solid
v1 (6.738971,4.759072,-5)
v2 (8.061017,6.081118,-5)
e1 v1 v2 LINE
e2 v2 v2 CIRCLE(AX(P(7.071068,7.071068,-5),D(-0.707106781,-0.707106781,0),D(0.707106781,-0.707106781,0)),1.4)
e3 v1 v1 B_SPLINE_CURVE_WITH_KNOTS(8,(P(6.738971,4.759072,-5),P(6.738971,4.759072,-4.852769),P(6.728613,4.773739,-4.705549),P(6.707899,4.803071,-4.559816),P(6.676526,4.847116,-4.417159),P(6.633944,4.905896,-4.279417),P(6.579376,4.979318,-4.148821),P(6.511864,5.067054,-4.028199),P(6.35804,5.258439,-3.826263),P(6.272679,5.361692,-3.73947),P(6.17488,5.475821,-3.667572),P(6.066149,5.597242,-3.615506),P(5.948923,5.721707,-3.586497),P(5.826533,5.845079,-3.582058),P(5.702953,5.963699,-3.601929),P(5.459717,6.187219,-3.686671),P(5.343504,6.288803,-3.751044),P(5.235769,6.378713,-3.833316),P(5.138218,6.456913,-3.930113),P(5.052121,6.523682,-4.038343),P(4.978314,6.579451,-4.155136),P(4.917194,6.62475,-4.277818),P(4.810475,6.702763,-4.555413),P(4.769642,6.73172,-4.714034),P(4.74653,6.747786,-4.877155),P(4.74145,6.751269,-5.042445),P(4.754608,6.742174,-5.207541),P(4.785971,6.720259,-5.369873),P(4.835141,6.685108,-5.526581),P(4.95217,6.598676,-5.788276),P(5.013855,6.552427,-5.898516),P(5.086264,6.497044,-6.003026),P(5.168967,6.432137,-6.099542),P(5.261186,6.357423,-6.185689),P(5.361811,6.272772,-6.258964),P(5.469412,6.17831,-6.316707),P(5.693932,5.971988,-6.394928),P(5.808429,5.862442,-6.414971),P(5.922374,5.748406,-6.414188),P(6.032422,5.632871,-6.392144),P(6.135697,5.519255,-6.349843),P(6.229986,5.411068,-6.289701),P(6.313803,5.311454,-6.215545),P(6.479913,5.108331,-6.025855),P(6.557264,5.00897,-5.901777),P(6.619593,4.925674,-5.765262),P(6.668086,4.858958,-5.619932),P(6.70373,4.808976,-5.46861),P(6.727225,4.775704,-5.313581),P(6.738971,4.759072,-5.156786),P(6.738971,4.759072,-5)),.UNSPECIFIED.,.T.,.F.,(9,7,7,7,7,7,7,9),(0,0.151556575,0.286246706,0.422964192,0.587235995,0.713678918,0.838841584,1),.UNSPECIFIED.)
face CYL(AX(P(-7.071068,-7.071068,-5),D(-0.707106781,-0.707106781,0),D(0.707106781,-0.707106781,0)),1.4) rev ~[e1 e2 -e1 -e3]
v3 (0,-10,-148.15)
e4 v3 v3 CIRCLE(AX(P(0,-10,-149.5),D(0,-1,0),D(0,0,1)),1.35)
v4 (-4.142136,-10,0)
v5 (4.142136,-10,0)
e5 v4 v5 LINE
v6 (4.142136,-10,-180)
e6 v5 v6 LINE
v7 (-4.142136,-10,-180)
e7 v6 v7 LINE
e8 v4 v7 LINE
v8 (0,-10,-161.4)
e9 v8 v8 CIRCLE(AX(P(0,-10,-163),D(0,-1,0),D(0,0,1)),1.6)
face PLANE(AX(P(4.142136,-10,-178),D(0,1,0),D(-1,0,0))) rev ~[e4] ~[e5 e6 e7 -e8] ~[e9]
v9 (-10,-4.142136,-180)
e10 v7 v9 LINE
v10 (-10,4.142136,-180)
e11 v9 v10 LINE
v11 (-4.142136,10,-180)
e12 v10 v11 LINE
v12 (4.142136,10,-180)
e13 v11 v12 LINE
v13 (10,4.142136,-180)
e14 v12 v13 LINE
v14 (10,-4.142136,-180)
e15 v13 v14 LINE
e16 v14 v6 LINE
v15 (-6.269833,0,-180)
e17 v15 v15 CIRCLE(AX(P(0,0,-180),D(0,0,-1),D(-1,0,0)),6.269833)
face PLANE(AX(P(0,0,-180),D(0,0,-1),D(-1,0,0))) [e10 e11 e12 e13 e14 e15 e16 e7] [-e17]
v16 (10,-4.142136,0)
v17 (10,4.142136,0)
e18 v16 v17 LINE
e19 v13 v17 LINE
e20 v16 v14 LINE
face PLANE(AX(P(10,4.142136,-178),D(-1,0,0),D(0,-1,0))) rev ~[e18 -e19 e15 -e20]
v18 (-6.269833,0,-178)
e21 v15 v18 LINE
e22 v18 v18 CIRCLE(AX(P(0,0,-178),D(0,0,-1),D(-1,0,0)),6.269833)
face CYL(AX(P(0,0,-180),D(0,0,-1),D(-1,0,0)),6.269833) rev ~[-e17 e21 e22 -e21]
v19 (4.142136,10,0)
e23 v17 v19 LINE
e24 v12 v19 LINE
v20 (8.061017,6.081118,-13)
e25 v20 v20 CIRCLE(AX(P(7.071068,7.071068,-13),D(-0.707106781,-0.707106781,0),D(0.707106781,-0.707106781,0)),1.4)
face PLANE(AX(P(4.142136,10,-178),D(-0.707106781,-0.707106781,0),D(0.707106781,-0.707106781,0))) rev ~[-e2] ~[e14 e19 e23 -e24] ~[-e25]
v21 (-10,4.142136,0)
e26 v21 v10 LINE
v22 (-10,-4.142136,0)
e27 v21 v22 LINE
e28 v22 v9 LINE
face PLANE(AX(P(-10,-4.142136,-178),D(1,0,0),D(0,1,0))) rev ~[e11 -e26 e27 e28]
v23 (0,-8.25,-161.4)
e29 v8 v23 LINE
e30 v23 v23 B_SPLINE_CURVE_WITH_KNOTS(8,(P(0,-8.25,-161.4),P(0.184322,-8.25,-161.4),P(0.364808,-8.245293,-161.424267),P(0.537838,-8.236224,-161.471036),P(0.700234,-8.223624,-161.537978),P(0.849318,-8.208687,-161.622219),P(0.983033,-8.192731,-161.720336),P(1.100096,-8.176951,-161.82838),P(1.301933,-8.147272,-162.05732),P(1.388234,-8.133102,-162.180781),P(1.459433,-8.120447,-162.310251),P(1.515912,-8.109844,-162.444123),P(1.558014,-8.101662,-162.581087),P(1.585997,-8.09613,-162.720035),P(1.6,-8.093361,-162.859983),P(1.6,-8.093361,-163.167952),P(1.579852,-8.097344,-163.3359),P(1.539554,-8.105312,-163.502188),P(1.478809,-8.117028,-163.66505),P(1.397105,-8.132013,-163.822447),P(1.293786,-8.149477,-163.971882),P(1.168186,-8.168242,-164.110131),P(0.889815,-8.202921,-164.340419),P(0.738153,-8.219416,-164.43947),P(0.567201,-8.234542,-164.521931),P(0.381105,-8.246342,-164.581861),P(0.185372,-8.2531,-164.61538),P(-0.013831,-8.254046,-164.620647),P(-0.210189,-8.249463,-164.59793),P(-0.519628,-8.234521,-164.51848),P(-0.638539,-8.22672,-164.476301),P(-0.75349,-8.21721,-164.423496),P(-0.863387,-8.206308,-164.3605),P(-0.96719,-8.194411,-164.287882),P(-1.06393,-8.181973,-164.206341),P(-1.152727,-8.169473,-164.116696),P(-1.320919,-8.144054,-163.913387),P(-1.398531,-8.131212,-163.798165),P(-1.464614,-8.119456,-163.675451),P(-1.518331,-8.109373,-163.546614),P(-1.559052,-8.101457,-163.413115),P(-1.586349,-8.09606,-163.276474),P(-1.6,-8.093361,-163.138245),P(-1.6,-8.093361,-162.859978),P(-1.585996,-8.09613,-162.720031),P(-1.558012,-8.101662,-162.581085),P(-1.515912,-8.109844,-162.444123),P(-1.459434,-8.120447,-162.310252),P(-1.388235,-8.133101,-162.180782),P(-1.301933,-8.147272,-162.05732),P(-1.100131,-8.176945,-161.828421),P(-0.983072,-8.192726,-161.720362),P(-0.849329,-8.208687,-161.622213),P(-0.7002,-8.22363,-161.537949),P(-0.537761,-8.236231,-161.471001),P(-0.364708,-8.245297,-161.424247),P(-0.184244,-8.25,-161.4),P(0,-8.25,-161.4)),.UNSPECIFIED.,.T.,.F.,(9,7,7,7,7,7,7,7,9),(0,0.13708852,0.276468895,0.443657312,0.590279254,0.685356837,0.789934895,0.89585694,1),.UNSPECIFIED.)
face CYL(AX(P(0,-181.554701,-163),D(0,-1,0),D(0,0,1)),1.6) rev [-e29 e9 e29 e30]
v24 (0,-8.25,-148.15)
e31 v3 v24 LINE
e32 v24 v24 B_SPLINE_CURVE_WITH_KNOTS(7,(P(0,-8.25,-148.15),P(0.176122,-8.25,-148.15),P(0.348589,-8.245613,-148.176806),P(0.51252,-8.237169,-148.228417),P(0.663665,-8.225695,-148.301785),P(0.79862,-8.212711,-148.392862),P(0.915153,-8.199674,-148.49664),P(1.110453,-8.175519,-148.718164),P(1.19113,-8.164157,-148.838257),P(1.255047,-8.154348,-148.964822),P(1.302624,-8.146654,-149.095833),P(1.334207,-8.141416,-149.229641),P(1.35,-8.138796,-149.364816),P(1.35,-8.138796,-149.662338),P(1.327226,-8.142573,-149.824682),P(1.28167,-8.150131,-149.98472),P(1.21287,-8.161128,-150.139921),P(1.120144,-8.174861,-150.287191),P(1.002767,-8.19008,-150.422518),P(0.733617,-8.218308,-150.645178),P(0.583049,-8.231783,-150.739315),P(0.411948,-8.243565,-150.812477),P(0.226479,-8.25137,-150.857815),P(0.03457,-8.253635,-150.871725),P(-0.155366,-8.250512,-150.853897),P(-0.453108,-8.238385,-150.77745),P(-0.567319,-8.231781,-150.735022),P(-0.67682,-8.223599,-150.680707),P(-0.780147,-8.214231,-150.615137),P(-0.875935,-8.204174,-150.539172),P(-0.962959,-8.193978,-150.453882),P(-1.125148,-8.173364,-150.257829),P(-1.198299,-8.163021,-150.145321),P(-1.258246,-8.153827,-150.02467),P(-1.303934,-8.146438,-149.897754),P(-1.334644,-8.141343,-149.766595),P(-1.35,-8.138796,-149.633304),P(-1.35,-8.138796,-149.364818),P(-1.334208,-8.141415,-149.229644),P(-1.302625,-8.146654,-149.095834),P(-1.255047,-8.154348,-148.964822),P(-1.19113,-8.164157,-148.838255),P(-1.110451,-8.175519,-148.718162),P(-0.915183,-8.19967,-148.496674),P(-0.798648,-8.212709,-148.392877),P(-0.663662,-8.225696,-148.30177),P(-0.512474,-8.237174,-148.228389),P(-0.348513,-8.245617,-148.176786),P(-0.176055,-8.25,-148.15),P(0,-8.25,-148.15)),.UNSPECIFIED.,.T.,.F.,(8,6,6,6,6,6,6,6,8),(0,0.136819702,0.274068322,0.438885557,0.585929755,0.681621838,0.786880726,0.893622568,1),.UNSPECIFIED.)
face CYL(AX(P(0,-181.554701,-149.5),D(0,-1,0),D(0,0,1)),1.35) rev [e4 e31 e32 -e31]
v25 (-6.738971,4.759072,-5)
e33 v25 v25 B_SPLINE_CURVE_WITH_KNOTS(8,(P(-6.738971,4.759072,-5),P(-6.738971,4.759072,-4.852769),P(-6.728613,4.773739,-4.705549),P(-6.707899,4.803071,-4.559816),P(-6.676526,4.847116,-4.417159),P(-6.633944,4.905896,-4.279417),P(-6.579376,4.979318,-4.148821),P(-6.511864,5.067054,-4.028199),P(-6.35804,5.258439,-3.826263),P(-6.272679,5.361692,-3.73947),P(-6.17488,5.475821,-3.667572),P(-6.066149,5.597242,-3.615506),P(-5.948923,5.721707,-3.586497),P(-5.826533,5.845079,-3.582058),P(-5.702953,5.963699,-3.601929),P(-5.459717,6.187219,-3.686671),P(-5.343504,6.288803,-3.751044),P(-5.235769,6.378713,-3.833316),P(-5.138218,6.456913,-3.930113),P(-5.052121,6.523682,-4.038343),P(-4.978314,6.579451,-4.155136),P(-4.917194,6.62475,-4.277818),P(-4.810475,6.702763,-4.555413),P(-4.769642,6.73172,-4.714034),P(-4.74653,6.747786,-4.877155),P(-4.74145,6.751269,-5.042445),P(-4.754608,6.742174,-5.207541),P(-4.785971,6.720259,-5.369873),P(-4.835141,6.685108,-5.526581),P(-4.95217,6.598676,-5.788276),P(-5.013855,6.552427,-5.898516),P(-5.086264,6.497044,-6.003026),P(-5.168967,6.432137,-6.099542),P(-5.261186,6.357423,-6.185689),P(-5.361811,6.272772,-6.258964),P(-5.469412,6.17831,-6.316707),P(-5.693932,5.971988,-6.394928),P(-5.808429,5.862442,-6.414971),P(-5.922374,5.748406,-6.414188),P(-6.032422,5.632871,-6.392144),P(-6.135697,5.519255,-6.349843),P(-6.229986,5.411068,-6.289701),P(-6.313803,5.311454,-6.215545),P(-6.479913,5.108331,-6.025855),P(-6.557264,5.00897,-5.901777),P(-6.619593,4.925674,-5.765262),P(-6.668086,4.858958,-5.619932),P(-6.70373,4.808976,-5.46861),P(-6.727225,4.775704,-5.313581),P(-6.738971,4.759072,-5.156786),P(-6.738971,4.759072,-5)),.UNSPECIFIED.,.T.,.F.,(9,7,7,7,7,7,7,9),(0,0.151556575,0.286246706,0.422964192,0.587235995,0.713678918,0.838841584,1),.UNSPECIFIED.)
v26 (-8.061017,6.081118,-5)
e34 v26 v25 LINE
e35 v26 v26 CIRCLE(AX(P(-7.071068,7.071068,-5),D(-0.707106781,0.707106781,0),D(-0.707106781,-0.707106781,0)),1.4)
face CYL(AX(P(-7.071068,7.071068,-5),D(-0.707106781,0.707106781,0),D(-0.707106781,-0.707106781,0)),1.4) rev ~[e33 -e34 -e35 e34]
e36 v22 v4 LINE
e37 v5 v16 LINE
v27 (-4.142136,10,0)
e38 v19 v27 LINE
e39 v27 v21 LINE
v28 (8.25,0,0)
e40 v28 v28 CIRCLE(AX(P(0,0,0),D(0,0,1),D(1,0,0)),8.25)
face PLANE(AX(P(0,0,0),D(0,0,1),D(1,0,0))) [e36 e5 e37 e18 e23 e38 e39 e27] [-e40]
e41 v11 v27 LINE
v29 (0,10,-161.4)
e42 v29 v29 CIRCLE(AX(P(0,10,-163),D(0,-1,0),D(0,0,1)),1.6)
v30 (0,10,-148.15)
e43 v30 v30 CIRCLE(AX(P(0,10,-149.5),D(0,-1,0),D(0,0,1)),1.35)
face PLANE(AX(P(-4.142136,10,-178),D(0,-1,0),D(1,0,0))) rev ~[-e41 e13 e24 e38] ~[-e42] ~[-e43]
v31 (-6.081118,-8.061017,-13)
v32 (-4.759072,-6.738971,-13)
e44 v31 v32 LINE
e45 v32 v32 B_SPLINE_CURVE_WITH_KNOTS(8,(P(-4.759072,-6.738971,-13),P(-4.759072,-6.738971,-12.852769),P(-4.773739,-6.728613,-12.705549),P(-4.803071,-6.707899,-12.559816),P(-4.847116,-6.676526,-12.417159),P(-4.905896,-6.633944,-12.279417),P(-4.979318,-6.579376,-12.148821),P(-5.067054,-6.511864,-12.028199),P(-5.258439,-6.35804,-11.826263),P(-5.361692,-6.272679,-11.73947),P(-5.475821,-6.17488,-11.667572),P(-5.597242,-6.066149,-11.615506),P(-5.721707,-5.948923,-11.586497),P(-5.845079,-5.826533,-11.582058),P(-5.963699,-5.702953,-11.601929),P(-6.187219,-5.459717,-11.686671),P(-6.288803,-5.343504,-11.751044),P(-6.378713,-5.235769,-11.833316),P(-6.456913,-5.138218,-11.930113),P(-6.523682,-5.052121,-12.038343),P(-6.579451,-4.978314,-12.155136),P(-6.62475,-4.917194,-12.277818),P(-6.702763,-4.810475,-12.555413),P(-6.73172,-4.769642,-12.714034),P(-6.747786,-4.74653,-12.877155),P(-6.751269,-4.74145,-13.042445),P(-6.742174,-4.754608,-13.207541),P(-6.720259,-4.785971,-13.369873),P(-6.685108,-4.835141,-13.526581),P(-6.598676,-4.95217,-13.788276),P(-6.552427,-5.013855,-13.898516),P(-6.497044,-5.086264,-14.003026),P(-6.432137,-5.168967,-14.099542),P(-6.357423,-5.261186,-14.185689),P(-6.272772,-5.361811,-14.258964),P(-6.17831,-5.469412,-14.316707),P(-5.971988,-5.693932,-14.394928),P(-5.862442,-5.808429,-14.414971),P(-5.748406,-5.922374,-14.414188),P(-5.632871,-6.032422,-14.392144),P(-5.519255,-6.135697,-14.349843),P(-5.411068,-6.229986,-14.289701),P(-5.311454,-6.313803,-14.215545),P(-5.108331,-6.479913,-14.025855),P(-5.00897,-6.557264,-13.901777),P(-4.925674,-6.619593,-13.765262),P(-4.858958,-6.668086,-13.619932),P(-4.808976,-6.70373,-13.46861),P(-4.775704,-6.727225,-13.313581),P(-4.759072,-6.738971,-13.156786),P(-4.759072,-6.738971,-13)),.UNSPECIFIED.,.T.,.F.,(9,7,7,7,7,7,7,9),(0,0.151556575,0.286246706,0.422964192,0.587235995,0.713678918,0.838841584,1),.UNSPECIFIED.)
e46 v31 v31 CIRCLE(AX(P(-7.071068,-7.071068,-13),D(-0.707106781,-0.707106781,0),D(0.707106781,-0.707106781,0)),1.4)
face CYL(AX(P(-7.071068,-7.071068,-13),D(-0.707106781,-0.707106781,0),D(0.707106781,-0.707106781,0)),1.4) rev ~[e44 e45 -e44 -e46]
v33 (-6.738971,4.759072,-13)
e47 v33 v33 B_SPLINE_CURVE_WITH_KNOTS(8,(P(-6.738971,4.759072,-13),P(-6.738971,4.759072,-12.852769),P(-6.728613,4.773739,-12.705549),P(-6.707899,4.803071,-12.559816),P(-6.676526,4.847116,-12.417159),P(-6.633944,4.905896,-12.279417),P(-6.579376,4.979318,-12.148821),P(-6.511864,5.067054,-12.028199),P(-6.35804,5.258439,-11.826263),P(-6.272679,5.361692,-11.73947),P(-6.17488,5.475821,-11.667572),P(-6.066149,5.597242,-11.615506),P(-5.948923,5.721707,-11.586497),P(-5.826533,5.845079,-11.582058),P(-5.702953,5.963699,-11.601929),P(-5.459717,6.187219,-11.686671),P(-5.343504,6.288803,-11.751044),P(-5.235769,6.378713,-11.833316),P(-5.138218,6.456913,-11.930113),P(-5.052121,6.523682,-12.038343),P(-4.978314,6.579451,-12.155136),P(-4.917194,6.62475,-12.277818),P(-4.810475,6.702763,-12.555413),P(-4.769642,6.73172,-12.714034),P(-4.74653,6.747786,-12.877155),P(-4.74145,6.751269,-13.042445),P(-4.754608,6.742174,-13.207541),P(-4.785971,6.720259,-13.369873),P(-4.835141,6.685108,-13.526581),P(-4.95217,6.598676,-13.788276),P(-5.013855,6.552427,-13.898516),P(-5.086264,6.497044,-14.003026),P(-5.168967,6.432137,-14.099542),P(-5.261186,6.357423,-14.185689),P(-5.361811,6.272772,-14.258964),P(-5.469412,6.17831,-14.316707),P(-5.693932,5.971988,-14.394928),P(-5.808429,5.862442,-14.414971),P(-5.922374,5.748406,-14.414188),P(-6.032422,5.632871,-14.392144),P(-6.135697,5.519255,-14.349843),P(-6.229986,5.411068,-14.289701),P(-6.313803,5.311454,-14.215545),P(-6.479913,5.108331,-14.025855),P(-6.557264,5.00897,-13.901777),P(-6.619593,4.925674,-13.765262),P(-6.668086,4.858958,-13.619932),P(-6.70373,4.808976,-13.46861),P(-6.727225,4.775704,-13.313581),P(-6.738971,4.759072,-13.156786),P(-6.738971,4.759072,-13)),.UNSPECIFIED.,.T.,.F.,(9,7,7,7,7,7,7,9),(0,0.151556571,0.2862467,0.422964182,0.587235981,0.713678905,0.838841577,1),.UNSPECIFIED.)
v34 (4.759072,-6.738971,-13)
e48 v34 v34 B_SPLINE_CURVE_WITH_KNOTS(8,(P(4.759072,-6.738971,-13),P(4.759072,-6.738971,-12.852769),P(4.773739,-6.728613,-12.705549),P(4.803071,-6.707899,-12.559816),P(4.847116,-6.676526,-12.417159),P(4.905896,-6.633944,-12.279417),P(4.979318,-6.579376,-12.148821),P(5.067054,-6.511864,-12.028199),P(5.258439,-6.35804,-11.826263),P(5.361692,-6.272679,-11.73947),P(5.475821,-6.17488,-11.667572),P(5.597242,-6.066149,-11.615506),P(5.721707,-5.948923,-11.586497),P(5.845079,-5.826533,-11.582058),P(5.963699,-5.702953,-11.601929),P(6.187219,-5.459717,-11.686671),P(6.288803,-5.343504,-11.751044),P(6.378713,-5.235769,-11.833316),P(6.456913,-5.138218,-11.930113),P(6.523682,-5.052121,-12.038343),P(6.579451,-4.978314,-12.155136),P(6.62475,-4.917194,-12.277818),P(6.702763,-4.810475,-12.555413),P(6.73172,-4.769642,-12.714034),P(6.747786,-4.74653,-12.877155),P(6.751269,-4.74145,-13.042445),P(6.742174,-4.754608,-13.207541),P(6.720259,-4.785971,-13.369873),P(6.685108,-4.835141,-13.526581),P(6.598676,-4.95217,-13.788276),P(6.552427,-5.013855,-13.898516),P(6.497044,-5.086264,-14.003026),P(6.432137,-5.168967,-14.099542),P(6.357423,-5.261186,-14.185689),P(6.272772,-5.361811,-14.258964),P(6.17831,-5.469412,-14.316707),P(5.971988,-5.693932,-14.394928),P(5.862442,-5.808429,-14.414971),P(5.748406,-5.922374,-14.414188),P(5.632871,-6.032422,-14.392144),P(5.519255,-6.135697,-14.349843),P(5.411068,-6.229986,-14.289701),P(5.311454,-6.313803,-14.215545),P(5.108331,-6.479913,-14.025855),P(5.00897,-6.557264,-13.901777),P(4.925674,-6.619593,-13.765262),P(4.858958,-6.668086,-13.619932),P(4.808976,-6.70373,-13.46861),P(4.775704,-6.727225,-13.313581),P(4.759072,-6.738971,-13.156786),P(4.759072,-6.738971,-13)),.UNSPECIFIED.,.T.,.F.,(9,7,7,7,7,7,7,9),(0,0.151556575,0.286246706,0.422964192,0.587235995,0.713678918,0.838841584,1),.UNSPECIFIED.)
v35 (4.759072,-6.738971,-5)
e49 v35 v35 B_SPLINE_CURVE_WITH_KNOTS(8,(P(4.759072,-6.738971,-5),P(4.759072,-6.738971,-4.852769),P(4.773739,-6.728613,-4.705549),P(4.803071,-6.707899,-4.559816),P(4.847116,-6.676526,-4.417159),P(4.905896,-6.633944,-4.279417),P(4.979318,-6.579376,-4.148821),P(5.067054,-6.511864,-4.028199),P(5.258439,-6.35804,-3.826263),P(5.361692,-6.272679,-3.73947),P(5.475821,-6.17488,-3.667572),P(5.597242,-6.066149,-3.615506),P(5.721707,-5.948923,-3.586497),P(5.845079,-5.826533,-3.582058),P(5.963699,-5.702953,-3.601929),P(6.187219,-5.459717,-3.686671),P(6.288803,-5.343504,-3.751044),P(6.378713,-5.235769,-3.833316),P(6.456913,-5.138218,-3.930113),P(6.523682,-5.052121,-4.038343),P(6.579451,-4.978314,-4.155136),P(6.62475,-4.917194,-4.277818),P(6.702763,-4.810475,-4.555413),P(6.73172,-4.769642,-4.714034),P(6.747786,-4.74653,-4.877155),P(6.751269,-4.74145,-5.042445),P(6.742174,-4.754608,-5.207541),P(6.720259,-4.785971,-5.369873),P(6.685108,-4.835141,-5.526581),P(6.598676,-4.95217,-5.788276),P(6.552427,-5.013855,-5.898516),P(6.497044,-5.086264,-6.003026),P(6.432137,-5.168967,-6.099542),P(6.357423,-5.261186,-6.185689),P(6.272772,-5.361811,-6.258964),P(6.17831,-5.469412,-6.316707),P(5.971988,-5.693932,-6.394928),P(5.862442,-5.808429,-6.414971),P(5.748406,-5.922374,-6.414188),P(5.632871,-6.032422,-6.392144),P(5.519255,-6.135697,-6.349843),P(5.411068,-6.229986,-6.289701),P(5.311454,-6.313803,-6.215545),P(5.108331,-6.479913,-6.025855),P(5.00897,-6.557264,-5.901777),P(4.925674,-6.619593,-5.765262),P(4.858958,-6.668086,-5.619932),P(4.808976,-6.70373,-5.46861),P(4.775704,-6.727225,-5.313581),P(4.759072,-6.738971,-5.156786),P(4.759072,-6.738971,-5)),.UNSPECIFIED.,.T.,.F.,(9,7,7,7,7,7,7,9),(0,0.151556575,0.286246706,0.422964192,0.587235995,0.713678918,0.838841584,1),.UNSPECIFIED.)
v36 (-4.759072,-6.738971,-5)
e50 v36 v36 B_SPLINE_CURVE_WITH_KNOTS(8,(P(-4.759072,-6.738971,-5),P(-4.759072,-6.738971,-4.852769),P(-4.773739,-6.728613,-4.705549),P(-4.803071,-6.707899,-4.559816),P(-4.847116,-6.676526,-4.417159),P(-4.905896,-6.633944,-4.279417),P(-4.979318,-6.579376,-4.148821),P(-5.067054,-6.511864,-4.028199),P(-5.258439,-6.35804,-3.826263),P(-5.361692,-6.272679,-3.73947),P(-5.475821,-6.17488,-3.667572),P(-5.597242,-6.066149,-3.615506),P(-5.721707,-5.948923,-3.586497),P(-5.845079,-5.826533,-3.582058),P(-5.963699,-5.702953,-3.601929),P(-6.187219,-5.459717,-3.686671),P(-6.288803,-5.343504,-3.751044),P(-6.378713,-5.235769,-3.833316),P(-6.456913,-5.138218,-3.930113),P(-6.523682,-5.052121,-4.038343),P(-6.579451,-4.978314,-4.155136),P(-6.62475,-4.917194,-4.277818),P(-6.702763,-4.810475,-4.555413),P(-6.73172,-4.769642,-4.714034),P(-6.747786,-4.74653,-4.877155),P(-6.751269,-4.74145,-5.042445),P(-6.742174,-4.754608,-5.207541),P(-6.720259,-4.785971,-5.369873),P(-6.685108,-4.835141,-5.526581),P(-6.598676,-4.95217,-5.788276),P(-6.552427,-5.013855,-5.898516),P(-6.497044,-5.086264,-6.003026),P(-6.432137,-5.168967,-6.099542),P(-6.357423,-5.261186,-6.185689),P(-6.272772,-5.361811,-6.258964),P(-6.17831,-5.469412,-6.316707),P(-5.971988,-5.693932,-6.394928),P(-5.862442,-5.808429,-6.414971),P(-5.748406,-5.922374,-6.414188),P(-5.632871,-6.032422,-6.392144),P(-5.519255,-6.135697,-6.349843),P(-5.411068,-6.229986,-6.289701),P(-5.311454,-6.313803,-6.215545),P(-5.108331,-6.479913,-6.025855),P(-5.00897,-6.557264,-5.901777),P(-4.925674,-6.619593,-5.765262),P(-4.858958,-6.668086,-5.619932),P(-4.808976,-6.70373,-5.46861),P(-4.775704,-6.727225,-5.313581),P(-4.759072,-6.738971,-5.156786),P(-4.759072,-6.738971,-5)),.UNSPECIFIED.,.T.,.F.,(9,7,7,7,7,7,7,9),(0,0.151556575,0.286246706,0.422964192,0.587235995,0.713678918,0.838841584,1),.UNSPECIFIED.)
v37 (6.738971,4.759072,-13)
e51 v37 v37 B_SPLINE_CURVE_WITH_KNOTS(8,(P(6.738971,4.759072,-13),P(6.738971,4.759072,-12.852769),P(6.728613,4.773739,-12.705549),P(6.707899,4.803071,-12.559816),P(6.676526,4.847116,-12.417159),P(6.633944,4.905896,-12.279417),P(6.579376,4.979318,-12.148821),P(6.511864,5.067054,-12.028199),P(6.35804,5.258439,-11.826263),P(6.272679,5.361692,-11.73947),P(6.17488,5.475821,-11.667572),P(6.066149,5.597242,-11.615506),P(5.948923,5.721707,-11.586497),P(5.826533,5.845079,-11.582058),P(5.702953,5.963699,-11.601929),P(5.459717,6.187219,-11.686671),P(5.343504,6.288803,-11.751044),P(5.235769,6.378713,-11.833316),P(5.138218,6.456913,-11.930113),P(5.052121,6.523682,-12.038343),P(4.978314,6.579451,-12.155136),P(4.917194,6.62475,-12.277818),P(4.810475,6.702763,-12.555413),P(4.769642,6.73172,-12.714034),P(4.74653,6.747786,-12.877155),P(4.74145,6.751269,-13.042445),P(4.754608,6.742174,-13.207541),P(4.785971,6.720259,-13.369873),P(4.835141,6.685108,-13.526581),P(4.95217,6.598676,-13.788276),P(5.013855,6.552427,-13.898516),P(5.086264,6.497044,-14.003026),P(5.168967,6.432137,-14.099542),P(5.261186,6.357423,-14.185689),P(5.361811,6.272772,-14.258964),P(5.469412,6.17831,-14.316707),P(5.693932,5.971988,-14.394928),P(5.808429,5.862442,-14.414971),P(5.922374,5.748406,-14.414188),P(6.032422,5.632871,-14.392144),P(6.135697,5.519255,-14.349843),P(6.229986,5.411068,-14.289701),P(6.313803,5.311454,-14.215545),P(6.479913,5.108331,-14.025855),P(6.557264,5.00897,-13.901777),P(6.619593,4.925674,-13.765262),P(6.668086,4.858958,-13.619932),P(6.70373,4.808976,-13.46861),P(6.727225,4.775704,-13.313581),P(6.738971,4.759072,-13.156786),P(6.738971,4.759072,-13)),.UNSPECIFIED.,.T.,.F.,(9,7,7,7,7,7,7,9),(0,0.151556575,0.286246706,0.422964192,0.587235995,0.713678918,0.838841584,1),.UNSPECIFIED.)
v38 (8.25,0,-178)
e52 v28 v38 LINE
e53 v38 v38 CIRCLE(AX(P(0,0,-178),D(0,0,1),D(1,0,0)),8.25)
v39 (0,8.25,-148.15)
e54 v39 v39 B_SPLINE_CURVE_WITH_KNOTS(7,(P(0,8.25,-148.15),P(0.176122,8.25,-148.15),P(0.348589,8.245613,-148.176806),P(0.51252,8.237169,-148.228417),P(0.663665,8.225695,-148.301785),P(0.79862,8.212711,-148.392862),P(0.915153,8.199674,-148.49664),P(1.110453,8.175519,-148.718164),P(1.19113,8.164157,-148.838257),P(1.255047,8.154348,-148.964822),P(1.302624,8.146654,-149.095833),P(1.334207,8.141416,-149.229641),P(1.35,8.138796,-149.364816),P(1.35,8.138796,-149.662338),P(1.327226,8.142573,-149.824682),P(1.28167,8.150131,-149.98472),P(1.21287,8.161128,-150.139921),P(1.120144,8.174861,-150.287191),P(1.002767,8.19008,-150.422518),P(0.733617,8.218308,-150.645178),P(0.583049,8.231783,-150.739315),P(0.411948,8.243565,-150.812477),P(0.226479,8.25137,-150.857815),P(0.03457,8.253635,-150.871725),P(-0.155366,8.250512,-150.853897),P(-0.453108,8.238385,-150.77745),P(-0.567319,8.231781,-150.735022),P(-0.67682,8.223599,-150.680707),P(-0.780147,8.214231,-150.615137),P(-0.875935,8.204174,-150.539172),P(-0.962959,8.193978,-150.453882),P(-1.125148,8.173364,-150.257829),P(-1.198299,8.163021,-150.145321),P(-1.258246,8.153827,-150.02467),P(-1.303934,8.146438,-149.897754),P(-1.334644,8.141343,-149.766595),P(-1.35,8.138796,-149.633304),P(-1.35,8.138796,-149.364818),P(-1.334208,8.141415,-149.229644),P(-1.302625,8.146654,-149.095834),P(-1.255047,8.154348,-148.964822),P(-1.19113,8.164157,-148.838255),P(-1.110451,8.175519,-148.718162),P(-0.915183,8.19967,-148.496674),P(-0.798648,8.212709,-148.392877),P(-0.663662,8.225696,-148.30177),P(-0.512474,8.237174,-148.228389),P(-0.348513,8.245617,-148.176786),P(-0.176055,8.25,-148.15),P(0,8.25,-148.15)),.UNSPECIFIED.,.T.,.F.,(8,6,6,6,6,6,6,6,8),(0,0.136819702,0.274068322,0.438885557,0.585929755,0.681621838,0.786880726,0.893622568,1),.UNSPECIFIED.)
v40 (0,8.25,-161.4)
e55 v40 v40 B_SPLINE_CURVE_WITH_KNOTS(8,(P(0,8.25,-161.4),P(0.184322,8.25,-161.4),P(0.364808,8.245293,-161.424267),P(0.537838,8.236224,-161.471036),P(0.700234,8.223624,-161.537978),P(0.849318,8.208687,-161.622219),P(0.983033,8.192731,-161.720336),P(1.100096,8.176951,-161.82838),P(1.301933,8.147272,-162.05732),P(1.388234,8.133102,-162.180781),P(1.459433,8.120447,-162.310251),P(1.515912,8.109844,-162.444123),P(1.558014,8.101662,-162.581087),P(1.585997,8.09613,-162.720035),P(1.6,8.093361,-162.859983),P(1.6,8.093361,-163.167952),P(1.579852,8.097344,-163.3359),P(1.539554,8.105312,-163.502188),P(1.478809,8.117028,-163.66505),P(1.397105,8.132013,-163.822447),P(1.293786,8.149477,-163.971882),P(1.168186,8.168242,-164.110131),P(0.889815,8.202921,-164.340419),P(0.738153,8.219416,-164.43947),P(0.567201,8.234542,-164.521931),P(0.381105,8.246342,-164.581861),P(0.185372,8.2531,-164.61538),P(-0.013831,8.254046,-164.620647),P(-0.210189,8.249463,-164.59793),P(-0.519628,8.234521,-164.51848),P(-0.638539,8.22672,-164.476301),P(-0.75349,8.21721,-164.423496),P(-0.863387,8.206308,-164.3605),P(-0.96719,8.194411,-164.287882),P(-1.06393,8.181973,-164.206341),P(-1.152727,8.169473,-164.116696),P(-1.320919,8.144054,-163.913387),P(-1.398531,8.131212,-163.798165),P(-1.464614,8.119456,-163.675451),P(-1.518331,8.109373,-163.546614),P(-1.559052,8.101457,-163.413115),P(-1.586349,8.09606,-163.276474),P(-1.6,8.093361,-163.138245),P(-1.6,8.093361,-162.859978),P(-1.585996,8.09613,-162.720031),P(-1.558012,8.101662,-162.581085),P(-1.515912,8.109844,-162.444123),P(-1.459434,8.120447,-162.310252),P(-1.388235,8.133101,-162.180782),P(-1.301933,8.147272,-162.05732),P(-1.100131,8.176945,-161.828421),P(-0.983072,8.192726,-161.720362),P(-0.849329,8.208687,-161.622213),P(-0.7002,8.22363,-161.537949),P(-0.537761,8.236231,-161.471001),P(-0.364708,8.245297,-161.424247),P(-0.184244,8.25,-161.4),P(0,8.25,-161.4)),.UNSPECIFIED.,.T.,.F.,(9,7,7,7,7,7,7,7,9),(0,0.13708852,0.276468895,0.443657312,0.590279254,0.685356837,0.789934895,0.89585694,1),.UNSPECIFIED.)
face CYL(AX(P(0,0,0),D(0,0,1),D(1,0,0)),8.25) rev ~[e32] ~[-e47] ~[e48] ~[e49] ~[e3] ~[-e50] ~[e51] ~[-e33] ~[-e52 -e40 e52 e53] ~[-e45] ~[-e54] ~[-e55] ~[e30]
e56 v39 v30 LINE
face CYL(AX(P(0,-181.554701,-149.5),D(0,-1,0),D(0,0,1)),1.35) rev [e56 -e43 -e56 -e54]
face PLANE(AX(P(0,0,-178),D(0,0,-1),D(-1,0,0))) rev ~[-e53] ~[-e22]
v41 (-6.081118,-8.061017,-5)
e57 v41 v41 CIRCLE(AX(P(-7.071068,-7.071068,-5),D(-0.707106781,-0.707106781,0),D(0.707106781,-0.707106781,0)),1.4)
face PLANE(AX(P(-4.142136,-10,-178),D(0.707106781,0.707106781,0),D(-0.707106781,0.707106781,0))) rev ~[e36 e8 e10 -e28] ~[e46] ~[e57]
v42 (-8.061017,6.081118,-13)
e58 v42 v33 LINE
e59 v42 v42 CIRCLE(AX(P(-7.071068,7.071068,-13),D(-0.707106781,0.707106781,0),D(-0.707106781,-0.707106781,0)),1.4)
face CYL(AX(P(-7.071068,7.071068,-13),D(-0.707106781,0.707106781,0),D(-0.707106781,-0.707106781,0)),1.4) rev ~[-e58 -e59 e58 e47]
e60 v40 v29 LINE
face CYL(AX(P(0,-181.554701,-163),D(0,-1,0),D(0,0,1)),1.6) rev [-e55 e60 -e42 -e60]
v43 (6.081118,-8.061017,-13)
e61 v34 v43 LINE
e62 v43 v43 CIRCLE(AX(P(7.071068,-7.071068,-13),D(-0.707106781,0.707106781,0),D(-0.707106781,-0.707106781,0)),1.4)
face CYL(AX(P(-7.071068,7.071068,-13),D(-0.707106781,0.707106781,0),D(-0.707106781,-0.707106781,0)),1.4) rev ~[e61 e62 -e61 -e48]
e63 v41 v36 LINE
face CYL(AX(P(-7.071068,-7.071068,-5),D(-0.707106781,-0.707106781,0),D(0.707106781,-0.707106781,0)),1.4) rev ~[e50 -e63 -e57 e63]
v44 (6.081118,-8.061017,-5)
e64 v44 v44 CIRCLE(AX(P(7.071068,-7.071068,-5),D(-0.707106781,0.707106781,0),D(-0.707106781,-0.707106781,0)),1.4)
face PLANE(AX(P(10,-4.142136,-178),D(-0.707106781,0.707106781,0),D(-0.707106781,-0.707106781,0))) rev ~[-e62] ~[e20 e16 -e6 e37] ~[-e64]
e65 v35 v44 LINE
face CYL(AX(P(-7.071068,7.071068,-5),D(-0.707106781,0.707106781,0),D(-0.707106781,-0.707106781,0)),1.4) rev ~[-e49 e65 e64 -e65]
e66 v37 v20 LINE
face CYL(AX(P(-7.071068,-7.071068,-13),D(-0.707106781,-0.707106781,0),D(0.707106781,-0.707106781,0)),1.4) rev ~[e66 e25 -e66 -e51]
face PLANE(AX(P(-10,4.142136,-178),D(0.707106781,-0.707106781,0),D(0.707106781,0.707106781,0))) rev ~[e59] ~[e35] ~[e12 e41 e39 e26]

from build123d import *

# Parameters (mm, degrees)
SKETCH1_R               = 8.25
BOSS_EXTRUDE1_DEPTH     = 178
BOSS_EXTRUDE2_DEPTH     = 2
CUT_EXTRUDE1_DEPTH      = 181.554700853
CUT_EXTRUDE1_DEPTH_BACK = 181.554700853
SKETCH4_R               = 1.35
SKETCH4_R_2             = 1.6
SKETCH6_R               = 1.4
CUT_EXTRUDE2_DEPTH      = 182.611791236
CIRPATTERN1_COUNT       = 2
CIRPATTERN1_ANGLE       = 270
SKETCH7_R               = 6.269832862
CUT_EXTRUDE3_DEPTH      = 181.554700958


with BuildPart() as part:
    # Sketch1 → Boss-Extrude1 (new body)
    with BuildSketch(Plane.XY):
        Polygon((10, 4.142135624), (4.142135624, 10), (-4.142135624, 10), (-10, 4.142135624), (-10, -4.142135624), (-4.142135624, -10), (4.142135624, -10), (10, -4.142135624), align=None)
        Circle(SKETCH1_R, mode=Mode.SUBTRACT)
    extrude(amount=-BOSS_EXTRUDE1_DEPTH)

    # Sketch2 → Boss-Extrude2 (add)
    with BuildSketch(Plane(origin=(0, 0, -178), x_dir=(-1, 0, 0), z_dir=(0, 0, -1))):
        Polygon((-10, 4.142135624), (-10, -4.142135624), (-4.142135624, -10), (4.142135624, -10), (10, -4.142135624), (10, 4.142135624), (4.142135624, 10), (-4.142135624, 10), align=None)
    extrude(amount=BOSS_EXTRUDE2_DEPTH)

    # Sketch4 → Cut-Extrude1 (cut, two sides: drawn at the far end of the back side and taken through both)
    with BuildSketch(Plane(origin=(0, 0, 0), x_dir=(1, 0, 0), z_dir=(0, 1, 0)).offset(-CUT_EXTRUDE1_DEPTH_BACK)):
        with Locations(Location((0, 149.5, 0), (0, 0, 270))):
            Circle(SKETCH4_R)
        with Locations(Location((0, 163, 0), (0, 0, 270))):
            Circle(SKETCH4_R_2)
    extrude(amount=CUT_EXTRUDE1_DEPTH + CUT_EXTRUDE1_DEPTH_BACK, mode=Mode.SUBTRACT)

    # Sketch6 → Cut-Extrude2 (cut, through all)
    with BuildSketch(Plane(origin=(-7.071067812, 7.071067812, 0), x_dir=(0, 0, 1), z_dir=(-0.7071067811865476, 0.7071067811865476, 0))):
        with Locations(Location((-13, 0, 0), (0, 0, 270))):
            Circle(SKETCH6_R)
        with Locations(Location((-5, 0, 0), (0, 0, 270))):
            Circle(SKETCH6_R)
    cut_extrude2 = extrude(amount=-CUT_EXTRUDE2_DEPTH, mode=Mode.SUBTRACT)

    # CirPattern1: Cut-Extrude2 ×2 about axis
    cirpattern1_axis = Axis((0, 0, 6.85), (0, 0, -1))
    for i in range(1, CIRPATTERN1_COUNT):
        add(cut_extrude2.rotate(cirpattern1_axis, i * CIRPATTERN1_ANGLE / (CIRPATTERN1_COUNT - 1)), mode=Mode.SUBTRACT)

    # Sketch7 → Cut-Extrude3 (cut, through all)
    with BuildSketch(Plane(origin=(0, 0, -180), x_dir=(-1, 0, 0), z_dir=(0, 0, -1))):
        Circle(SKETCH7_R)
    extrude(amount=-CUT_EXTRUDE3_DEPTH, mode=Mode.SUBTRACT)


solid = part.part
